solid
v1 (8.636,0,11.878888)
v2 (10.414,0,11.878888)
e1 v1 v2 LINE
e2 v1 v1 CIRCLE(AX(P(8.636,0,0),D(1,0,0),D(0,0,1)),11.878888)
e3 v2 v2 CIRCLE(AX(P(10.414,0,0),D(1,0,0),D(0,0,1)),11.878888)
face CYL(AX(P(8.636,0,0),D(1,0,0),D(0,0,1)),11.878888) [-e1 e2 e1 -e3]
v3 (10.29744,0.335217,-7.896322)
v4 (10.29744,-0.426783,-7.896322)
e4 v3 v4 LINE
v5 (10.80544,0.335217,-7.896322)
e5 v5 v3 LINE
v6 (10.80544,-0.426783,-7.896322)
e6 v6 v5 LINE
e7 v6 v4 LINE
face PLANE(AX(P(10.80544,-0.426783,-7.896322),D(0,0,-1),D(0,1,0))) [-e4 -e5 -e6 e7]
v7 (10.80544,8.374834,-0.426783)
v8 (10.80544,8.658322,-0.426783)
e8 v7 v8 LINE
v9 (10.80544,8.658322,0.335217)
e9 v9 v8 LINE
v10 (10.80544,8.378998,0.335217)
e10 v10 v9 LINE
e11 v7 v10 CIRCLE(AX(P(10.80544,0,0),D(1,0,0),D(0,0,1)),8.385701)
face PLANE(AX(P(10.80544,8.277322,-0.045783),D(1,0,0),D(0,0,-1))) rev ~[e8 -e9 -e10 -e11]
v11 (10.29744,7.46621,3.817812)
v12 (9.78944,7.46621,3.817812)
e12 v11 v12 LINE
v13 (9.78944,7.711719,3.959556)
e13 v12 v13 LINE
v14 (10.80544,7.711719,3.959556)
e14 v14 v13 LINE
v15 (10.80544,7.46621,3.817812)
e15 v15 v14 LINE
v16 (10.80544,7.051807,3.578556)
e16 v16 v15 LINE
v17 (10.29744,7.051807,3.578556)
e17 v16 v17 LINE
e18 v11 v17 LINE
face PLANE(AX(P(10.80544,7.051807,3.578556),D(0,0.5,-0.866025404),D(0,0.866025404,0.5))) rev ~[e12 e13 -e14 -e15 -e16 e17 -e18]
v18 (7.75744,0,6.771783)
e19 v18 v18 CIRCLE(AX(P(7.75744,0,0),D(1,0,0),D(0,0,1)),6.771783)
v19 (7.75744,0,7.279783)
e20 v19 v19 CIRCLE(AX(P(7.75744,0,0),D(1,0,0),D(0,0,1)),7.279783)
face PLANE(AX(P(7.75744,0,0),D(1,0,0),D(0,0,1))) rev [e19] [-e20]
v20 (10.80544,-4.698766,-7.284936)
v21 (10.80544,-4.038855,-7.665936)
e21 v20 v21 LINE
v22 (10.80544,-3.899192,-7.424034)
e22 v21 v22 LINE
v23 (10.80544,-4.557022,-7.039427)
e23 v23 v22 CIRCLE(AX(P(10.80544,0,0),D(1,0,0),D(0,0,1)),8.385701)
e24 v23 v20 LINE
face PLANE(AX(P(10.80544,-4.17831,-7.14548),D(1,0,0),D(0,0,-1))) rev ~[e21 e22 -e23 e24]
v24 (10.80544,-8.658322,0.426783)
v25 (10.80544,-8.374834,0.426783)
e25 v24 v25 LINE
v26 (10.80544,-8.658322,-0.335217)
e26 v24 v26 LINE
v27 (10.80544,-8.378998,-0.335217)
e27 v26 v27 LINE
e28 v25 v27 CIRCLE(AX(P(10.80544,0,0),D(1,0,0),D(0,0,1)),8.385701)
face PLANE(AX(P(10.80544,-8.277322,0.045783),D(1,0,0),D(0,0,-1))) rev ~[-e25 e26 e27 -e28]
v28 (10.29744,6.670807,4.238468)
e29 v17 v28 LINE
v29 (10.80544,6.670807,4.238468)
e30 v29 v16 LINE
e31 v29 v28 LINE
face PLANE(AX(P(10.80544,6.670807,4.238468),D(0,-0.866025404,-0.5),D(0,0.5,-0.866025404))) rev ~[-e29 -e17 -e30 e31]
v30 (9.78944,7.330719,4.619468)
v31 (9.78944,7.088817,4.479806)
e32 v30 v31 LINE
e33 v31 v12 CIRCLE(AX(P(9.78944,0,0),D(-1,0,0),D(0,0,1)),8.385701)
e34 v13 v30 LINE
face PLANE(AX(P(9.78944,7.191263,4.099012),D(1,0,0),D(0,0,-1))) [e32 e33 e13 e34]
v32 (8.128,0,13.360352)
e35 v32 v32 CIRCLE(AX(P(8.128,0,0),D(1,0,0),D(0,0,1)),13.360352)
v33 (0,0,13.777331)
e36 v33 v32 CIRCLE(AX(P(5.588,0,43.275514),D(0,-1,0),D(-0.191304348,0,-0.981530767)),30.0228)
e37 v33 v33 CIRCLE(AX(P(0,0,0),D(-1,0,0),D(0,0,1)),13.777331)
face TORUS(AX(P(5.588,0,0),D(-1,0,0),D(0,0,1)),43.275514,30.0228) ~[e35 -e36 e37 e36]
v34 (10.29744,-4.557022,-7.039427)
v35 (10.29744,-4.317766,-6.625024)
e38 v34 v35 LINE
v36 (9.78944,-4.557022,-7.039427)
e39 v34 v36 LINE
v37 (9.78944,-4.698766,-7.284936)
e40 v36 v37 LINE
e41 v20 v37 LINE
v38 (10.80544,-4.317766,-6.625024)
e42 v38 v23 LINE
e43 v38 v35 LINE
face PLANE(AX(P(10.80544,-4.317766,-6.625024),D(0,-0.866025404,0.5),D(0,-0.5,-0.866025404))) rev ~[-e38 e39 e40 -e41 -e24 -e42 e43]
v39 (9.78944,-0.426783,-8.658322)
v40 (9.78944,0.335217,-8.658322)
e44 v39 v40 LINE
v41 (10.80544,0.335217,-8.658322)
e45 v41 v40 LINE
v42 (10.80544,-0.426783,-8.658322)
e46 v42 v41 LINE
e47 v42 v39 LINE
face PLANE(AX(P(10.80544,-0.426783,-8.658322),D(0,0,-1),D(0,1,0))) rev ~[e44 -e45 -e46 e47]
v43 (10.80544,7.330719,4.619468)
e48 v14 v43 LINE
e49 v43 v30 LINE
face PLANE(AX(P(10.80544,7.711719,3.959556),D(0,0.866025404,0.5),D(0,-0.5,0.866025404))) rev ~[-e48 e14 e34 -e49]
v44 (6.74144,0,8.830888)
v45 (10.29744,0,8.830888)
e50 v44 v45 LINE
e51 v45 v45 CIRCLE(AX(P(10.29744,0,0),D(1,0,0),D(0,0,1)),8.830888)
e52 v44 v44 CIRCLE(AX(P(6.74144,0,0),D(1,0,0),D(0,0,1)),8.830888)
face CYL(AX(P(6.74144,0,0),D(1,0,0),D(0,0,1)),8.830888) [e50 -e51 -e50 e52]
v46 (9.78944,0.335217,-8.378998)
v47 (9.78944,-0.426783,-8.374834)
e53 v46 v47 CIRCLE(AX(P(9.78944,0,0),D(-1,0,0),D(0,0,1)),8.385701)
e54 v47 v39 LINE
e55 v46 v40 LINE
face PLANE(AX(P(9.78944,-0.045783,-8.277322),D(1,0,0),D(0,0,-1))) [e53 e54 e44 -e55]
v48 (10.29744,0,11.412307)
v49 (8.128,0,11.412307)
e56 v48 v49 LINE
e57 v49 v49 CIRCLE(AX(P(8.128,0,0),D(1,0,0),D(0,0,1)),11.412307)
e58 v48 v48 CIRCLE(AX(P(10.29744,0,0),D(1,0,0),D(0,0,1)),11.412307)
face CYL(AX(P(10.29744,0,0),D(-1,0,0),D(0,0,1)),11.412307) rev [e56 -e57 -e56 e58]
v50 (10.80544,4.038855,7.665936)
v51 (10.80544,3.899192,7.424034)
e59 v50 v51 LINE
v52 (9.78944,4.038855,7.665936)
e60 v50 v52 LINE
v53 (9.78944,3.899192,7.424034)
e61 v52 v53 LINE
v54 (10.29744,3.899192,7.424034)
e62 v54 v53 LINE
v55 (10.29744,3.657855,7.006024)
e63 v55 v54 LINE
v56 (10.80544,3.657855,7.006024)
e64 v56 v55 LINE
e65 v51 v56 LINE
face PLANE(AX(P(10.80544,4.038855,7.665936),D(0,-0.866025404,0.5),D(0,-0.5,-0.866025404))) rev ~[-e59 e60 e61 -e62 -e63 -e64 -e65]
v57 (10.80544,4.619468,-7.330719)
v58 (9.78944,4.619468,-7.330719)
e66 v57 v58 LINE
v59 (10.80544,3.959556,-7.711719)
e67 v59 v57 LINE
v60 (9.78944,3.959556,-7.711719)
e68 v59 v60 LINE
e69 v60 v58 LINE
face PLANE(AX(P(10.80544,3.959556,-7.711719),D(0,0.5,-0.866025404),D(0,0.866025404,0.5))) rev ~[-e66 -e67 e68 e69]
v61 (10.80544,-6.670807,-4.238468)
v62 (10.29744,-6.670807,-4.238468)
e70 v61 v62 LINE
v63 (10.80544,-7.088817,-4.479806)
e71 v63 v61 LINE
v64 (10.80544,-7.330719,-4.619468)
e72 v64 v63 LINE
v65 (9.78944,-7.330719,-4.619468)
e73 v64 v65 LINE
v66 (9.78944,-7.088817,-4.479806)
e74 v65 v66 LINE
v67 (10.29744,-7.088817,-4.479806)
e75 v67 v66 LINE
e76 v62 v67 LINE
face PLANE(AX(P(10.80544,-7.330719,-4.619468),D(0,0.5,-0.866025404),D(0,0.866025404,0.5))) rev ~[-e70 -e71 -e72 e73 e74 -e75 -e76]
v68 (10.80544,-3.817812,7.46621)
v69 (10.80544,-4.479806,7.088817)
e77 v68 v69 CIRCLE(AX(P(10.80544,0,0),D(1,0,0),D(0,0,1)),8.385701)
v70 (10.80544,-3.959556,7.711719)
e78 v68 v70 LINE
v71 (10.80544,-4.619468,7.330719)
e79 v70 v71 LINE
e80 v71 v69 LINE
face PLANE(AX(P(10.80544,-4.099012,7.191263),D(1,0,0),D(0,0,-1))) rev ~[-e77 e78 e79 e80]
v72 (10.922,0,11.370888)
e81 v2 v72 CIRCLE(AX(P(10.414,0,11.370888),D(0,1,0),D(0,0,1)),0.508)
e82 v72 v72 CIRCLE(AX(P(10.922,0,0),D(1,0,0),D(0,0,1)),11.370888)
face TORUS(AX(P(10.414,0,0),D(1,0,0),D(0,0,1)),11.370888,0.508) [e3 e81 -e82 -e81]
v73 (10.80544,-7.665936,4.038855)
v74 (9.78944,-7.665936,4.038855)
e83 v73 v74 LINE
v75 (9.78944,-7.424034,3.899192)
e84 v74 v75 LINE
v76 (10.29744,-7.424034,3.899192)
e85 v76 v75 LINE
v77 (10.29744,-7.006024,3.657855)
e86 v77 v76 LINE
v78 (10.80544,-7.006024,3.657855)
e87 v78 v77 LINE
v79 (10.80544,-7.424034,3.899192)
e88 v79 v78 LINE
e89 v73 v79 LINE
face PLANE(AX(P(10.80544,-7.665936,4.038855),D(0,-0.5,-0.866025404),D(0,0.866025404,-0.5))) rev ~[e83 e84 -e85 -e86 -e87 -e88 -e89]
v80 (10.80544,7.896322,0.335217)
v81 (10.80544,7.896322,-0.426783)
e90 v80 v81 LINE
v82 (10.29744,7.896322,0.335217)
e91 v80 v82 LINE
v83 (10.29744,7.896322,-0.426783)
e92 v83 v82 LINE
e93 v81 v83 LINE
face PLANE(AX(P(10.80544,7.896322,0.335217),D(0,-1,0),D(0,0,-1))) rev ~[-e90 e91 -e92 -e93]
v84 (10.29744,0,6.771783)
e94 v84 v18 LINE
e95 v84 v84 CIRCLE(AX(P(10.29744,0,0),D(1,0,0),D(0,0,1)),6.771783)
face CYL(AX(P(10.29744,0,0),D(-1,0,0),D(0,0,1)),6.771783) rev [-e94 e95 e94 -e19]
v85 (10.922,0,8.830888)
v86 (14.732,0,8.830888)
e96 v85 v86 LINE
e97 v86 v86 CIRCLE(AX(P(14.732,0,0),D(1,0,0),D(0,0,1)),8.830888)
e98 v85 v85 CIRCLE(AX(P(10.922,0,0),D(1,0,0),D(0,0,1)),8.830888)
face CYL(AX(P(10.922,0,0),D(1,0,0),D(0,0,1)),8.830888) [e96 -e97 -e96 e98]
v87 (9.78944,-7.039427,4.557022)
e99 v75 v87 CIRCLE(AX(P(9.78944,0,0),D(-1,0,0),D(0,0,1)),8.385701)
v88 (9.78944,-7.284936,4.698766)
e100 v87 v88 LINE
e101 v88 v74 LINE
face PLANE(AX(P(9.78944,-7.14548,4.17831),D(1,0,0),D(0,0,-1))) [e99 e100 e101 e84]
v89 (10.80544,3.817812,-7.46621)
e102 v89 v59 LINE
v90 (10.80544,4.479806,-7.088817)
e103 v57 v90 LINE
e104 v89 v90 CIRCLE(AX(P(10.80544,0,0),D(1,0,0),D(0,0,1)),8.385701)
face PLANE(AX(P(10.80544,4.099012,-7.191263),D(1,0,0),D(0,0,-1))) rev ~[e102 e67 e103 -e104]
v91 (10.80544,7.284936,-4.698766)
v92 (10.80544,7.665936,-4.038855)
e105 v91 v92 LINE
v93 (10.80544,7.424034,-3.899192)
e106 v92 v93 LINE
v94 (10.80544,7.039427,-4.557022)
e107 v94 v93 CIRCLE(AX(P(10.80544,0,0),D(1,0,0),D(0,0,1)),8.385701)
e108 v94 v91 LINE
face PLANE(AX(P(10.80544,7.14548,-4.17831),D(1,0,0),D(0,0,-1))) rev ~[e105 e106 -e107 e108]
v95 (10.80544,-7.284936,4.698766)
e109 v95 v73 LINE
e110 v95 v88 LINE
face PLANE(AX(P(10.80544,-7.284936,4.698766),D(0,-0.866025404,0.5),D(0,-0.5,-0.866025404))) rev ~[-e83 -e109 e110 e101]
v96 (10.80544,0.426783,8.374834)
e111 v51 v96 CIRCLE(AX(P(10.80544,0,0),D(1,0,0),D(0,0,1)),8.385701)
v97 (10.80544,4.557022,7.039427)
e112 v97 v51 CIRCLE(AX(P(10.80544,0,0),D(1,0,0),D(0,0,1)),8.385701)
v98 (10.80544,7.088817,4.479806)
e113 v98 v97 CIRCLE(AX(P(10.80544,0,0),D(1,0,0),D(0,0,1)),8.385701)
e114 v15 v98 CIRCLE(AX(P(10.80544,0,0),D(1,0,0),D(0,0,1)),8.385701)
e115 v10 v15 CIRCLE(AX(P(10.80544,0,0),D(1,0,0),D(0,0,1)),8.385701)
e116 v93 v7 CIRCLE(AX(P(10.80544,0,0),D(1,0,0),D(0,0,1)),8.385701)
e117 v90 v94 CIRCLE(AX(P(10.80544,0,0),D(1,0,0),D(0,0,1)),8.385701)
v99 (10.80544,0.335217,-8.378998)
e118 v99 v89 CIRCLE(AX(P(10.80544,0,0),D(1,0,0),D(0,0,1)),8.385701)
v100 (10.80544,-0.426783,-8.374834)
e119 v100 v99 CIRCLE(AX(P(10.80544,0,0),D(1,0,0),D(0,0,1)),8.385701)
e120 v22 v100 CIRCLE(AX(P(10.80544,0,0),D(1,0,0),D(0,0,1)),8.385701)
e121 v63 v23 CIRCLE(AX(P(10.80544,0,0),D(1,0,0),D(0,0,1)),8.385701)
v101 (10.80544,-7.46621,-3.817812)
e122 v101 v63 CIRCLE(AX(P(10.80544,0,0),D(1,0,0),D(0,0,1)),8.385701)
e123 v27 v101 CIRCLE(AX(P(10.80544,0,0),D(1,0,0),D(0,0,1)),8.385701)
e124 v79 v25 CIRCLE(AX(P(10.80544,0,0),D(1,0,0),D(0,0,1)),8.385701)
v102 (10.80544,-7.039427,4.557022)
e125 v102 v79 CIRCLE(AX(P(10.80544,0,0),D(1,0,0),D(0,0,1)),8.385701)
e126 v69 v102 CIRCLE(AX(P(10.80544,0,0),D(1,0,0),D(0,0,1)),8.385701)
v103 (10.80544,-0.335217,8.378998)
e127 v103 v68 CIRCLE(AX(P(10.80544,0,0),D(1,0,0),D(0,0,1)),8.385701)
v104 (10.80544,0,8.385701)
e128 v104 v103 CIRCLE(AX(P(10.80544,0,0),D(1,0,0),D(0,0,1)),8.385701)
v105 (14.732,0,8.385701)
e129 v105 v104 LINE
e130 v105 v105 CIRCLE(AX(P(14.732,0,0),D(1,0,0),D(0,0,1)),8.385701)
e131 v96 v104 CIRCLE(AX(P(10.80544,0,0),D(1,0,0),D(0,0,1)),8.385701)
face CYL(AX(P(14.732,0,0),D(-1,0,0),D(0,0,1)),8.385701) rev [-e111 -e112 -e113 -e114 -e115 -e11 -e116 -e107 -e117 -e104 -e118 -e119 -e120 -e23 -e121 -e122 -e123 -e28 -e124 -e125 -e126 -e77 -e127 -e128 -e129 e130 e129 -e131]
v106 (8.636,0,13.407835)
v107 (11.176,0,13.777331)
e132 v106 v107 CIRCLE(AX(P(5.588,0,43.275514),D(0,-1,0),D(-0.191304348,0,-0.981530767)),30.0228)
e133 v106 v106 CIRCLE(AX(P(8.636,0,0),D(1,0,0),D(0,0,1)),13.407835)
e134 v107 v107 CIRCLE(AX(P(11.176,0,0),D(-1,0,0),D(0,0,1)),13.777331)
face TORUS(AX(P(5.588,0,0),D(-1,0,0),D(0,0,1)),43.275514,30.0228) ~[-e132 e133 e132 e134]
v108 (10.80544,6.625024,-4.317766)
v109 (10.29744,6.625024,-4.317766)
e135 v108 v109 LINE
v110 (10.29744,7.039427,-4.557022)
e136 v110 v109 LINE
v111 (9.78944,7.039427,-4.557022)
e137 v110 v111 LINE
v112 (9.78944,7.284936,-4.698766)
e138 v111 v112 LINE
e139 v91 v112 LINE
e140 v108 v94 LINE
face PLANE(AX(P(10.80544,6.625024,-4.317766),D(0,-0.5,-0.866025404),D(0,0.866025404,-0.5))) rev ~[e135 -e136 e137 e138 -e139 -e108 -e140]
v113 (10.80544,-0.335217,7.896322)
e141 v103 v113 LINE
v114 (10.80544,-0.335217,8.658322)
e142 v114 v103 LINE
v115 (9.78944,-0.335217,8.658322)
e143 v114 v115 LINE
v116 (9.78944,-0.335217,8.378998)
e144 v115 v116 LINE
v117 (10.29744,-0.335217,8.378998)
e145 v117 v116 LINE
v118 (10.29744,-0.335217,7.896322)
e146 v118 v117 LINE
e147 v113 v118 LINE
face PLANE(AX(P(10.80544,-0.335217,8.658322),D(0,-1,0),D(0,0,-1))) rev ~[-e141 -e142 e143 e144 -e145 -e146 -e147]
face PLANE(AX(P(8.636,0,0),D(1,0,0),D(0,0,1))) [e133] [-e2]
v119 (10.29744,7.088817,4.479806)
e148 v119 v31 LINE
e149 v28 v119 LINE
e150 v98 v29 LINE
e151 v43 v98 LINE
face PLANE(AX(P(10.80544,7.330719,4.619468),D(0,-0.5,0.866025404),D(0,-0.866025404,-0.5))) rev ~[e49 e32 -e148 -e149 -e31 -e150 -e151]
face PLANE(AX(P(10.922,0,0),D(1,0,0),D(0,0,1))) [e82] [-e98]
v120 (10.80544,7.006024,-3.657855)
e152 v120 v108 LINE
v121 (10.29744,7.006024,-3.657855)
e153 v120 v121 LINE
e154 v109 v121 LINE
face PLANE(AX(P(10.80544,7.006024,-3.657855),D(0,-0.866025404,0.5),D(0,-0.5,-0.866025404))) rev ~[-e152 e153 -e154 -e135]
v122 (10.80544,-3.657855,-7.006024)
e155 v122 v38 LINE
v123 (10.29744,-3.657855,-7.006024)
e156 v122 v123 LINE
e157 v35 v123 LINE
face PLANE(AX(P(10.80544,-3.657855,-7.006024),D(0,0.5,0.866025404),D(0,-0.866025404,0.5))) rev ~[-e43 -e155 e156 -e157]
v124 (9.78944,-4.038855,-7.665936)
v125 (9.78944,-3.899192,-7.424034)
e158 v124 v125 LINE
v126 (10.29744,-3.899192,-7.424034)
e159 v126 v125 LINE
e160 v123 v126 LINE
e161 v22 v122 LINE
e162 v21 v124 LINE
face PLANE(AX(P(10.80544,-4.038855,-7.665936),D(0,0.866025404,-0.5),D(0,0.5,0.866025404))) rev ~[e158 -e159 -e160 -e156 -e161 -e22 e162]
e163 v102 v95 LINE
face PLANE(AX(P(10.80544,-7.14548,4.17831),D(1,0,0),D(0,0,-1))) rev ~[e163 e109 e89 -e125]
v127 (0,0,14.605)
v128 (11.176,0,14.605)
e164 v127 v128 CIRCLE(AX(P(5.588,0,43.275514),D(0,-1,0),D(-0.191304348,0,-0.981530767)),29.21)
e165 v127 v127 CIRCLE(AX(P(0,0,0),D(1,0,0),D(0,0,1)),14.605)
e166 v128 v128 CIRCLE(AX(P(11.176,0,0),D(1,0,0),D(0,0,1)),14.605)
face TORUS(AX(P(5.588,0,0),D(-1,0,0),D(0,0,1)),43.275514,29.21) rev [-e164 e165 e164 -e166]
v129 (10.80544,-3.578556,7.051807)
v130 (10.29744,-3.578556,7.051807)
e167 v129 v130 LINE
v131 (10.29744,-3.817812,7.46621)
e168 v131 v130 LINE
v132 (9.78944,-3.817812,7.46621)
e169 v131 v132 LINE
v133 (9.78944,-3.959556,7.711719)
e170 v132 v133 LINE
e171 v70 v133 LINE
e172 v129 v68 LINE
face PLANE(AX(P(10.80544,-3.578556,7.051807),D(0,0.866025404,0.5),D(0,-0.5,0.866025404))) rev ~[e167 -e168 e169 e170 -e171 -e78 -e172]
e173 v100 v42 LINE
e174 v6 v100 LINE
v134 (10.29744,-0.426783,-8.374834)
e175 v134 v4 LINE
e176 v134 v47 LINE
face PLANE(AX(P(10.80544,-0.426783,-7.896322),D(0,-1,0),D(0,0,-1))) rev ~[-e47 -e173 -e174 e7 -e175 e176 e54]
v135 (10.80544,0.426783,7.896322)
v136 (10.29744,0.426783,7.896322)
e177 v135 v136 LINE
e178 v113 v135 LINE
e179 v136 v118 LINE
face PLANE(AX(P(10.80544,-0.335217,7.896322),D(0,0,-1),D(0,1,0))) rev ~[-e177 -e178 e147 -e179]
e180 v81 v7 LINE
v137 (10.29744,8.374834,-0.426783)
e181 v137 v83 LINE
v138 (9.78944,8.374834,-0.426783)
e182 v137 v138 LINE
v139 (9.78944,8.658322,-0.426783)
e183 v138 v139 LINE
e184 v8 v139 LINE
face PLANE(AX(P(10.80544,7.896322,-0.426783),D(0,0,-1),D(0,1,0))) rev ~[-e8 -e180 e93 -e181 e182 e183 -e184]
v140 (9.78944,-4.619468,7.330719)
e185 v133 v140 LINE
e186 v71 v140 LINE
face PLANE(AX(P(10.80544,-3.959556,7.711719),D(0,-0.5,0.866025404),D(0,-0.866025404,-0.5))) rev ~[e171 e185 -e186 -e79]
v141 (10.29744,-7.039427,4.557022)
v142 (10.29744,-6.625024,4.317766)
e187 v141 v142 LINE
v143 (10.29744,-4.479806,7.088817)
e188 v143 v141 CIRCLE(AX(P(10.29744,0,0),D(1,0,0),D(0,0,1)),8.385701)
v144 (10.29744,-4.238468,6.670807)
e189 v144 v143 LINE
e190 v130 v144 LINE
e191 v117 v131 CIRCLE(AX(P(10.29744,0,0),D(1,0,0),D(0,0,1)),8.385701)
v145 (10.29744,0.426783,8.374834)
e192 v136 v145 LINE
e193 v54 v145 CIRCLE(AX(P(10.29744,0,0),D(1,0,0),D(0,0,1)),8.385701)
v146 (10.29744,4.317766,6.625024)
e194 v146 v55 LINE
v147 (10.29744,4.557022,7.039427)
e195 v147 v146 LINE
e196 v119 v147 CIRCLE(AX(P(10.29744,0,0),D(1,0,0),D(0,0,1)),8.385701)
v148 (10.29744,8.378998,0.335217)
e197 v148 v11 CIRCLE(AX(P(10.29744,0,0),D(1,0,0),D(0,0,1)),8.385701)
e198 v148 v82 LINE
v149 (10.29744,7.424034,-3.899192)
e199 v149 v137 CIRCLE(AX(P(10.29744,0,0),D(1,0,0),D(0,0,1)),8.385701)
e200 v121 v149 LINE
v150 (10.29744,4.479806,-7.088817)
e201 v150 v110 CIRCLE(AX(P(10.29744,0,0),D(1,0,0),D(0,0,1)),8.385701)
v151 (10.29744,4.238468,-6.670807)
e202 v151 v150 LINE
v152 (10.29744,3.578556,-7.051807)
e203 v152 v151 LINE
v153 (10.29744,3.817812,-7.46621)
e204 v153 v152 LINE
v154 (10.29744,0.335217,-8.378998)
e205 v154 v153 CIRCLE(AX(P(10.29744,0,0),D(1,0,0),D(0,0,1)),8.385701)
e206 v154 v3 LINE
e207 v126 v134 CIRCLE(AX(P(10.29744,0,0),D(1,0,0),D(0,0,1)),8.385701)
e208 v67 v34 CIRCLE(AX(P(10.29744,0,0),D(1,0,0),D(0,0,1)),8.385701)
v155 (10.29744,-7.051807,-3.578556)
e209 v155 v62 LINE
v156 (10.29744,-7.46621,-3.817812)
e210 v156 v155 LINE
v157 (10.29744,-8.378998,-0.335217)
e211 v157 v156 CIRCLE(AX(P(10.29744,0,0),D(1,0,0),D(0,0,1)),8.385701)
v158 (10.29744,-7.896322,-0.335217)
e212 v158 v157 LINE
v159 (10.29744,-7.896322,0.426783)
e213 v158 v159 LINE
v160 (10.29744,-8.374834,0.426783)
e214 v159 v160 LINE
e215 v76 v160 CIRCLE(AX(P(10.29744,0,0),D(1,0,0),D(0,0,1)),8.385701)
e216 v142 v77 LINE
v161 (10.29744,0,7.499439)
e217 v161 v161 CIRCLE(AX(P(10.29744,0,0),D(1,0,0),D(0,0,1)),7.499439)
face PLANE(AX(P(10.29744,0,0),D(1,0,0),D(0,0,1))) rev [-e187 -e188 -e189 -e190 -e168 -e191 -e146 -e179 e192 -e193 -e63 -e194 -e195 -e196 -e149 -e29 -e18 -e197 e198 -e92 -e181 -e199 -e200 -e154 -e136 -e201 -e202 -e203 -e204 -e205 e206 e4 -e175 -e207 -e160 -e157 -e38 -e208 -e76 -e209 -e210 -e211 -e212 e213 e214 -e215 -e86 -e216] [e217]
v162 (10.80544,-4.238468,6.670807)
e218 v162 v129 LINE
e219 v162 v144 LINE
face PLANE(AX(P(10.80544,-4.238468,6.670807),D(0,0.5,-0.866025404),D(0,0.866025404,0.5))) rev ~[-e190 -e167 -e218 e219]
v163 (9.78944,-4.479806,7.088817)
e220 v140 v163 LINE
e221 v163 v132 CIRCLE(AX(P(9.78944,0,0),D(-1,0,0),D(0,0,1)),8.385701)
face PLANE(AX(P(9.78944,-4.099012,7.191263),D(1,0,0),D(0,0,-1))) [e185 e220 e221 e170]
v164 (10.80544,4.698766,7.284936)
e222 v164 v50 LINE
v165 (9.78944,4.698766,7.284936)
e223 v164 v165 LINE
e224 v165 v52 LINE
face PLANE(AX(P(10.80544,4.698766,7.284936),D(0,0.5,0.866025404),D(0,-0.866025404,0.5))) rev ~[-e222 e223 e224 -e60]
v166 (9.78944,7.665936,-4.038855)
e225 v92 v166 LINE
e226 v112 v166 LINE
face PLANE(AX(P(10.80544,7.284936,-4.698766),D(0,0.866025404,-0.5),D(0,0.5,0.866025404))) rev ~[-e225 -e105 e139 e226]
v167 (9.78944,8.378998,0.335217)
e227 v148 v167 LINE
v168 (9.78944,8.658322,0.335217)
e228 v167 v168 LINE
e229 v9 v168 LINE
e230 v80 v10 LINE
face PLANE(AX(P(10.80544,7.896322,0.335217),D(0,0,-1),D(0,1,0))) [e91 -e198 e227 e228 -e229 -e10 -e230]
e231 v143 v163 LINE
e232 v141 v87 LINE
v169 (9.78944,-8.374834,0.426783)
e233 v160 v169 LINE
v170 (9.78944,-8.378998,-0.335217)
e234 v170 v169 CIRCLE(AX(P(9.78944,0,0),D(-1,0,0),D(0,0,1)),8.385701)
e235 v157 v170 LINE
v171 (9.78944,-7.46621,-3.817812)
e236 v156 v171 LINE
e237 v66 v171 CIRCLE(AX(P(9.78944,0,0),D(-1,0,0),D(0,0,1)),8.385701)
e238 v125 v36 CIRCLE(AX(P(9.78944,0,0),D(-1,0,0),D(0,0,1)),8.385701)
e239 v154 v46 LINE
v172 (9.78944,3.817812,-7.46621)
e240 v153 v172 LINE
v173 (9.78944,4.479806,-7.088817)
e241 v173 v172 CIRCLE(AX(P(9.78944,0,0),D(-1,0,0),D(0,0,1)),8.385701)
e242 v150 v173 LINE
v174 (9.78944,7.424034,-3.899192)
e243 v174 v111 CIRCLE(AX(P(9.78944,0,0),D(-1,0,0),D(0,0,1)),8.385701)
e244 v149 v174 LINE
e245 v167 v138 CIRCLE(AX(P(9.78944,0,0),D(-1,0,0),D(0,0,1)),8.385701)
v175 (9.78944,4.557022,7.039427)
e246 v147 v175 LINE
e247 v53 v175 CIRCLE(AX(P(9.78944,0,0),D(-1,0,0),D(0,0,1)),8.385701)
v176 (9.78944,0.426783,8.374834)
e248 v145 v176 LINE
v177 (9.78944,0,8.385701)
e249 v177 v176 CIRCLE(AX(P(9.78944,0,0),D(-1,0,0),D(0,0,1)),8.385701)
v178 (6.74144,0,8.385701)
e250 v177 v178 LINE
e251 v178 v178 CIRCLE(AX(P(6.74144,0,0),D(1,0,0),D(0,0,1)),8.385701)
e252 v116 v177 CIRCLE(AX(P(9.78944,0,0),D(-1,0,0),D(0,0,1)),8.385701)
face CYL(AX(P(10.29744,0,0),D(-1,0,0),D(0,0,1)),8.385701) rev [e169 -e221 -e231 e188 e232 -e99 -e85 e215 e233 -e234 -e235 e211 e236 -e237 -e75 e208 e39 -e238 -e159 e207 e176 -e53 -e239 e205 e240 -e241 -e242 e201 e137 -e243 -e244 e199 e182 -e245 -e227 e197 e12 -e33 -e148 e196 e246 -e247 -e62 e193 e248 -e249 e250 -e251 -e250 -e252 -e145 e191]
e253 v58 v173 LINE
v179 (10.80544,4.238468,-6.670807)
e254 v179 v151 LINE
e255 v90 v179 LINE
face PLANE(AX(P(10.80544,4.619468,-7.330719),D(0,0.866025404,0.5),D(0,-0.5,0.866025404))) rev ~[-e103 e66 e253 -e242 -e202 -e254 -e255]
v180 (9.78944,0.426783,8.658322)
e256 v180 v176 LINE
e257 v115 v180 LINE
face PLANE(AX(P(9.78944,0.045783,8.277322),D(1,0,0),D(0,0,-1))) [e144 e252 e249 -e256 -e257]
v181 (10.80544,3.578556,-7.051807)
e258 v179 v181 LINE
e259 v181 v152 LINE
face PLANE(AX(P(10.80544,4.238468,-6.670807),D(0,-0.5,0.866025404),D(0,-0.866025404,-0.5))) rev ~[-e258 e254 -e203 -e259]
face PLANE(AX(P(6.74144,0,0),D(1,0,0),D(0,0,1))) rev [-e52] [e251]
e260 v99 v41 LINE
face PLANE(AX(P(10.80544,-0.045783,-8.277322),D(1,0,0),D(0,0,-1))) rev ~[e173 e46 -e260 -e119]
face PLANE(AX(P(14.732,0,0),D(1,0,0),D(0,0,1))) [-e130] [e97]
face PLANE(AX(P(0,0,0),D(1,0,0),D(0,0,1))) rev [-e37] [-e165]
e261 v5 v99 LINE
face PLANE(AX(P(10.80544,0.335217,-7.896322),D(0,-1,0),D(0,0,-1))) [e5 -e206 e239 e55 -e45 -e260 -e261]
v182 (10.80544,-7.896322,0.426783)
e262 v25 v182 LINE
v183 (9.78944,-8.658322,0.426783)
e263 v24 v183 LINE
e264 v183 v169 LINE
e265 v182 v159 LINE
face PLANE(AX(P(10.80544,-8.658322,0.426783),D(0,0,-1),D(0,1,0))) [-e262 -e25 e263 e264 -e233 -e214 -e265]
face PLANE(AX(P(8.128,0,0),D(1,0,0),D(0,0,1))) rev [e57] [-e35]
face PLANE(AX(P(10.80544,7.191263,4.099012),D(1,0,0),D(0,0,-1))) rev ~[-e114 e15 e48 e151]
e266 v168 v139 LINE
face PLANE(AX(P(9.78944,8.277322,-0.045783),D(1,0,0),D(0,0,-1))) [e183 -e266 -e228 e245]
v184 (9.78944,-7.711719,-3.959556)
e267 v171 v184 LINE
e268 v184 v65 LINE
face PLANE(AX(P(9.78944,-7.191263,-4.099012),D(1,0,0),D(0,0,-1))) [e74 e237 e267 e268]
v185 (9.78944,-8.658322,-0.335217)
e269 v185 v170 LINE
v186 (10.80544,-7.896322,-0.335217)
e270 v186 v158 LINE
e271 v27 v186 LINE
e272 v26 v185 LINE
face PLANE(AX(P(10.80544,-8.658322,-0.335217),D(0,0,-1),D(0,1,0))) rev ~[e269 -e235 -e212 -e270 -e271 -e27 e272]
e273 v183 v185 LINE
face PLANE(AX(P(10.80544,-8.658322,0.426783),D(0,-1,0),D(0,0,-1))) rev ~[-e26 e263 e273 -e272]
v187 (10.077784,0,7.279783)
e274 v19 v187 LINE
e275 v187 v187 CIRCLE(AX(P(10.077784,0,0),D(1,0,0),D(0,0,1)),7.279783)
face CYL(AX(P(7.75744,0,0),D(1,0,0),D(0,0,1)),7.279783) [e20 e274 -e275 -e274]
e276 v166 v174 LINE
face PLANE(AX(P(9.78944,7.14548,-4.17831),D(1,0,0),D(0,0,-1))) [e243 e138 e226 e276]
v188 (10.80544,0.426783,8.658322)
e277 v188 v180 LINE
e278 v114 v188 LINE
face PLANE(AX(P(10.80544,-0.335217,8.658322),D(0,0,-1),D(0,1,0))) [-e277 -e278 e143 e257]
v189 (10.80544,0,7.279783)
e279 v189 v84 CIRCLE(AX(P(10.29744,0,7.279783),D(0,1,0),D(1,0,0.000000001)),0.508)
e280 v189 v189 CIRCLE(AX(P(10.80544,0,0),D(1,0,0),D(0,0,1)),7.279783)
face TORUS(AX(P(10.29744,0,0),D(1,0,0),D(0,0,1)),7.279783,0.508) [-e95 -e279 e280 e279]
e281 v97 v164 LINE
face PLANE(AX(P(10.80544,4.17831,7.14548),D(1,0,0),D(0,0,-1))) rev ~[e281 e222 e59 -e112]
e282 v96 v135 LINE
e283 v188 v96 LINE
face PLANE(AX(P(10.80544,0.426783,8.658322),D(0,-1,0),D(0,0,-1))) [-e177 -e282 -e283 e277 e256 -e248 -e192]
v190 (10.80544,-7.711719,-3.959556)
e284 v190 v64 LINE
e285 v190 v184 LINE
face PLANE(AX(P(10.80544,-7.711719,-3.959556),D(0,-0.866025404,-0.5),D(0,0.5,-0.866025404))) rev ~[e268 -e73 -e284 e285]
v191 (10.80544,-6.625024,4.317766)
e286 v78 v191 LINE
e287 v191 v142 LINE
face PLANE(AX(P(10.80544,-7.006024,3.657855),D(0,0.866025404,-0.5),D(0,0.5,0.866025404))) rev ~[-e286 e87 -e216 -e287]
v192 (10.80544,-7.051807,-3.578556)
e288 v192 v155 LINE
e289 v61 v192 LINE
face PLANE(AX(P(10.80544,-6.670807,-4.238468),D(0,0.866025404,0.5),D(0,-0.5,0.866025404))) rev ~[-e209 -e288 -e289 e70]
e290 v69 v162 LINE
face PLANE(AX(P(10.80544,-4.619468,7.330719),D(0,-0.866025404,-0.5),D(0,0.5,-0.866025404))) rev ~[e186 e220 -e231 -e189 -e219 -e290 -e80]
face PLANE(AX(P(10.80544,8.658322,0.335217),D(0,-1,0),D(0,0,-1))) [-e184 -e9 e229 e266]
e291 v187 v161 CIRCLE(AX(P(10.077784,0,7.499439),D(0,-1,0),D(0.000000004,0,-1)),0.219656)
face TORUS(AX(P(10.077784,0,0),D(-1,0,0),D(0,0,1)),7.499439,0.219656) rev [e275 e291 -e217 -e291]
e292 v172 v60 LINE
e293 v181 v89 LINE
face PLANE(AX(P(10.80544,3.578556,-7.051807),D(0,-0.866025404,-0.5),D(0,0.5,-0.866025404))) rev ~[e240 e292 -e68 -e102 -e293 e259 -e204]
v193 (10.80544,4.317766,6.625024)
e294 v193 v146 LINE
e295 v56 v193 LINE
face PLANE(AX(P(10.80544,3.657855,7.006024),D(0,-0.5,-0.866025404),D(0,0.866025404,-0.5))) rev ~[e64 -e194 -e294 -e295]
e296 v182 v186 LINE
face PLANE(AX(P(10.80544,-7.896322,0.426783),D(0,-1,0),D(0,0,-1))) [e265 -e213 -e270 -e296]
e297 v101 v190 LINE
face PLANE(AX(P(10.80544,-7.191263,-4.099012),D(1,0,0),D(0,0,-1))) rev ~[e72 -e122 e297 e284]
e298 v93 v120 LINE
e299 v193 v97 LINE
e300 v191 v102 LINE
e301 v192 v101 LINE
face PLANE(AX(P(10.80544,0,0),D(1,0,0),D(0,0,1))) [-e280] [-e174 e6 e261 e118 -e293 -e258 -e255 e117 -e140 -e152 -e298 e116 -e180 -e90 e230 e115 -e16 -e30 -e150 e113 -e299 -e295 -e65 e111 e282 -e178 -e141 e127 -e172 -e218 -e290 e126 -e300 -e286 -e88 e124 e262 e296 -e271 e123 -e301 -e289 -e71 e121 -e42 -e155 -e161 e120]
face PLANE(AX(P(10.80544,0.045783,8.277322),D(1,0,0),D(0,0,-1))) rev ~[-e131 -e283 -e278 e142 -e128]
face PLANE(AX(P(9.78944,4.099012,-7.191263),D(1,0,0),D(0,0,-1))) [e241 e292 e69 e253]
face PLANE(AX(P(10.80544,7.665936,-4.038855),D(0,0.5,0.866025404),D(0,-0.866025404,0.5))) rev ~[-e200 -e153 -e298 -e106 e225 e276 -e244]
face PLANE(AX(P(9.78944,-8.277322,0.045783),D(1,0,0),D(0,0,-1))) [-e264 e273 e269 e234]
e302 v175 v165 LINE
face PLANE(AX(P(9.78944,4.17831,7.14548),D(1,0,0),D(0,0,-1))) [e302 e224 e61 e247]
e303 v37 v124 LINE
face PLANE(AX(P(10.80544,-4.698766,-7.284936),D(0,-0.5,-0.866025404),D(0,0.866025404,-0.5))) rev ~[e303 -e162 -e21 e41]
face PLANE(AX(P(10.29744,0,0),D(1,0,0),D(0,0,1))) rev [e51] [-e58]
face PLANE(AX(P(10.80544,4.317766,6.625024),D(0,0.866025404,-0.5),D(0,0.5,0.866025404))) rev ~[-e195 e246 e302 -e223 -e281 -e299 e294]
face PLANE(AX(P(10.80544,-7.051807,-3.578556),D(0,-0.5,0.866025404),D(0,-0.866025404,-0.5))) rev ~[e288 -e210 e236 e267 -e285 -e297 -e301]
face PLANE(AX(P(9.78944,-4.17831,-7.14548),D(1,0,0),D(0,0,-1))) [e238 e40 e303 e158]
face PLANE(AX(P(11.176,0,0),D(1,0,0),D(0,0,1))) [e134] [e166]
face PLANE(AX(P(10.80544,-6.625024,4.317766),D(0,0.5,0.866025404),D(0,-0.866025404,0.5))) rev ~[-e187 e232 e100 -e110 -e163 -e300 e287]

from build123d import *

# Parameters (mm, degrees)
SHELL1_T           = -0.8128
FILLET1_R          = 0.508
SKETCH3_W          = 0.762
SKETCH3_H          = 0.762
CUT_EXTRUDE1_DEPTH = 1.016


with BuildPart() as part:
    # Sketch1 → Revolve1 (revolve)
    with BuildSketch(Plane.XY, mode=Mode.PRIVATE) as revolve1_sk:
        with BuildLine():
            Line((0, 0), (0, 14.605))
            ThreePointArc((0, 14.605), (5.588, 14.065513703), (11.176, 14.605))
            Line((11.176, 14.605), (11.176, 0))
            Line((11.176, 0), (0, 0))
        make_face()
    revolve(revolve1_sk.sketch.rotate(Axis((-10.447687892, 0, 0), (1, 0, 0)), 90), axis=Axis((-10.447687892, 0, 0), (1, 0, 0)))

    # Shell1
    shell1_openings = [part.faces().sort_by_distance(p)[0] for p in [
        (0, 0, 0),
        (11.176, 0, 0),
    ]]
    offset(amount=SHELL1_T, openings=shell1_openings, kind=Kind.INTERSECTION)

    # Sketch2 → Revolve2 (revolve)
    with BuildSketch(Plane.XY, mode=Mode.PRIVATE) as revolve2_sk:
        with BuildLine():
            Line((8.636, 13.407835256), (8.636, 11.878888362))
            Line((8.636, 11.878888362), (10.922, 11.878888362))
            Line((10.922, 11.878888362), (10.922, 8.830888362))
            Line((10.922, 8.830888362), (14.732, 8.830888362))
            Line((14.732, 8.830888362), (14.732, 8.38570101))
            Line((14.732, 8.38570101), (10.805439867, 8.38570101))
            Line((10.805439867, 8.38570101), (10.805439867, 7.279783375))
            ThreePointArc((10.805439867, 7.279783375), (10.656650112, 6.92057313), (10.297439867, 6.771783375))
            Line((10.297439867, 6.771783375), (7.757439867, 6.771783375))
            Line((7.757439867, 6.771783375), (7.757439867, 7.279783375))
            Line((7.757439867, 7.279783375), (10.077783765, 7.279783375))
            ThreePointArc((10.077783765, 7.279783375), (10.233104084, 7.344119158), (10.297439867, 7.499439477))
            Line((10.297439867, 7.499439477), (10.297439867, 8.38570101))
            Line((10.297439867, 8.38570101), (6.741439867, 8.38570101))
            Line((6.741439867, 8.38570101), (6.741439867, 8.830888362))
            Line((6.741439867, 8.830888362), (10.297439867, 8.830888362))
            Line((10.297439867, 8.830888362), (10.297439867, 11.412306581))
            Line((10.297439867, 11.412306581), (8.128, 11.412306581))
            Line((8.128, 11.412306581), (8.128, 13.360351664))
            ThreePointArc((8.128, 13.360351664), (8.38210087, 13.383014307), (8.636, 13.407835256))
        make_face()
    revolve(revolve2_sk.sketch.rotate(Axis((-18.402780465, 0, 0), (1, 0, 0)), 90), axis=Axis((-18.402780465, 0, 0), (1, 0, 0)))

    # Fillet1
    fillet1_edges = [part.edges().sort_by_distance(p)[0] for p in [
        (10.922, 0, -11.878888362),
    ]]
    fillet(fillet1_edges, radius=FILLET1_R)

    # Sketch3 → Cut-Extrude1 (cut)
    with BuildSketch(Plane(origin=(10.805439867, 0, 0), x_dir=(0, 0, -1), z_dir=(1, 0, 0))):
        Polygon((4.038854556, 7.665935745), (3.657854556, 7.006024387), (4.317765913, 6.625024387), (4.698765913, 7.284935745), align=None)
        with Locations((0.045782775, 8.277322377)):
            Rectangle(SKETCH3_W, SKETCH3_H)
        Polygon((7.33071852, 4.619467821), (6.670807162, 4.238467821), (7.051807162, 3.578556464), (7.71171852, 3.959556464), align=None)
        with Locations((8.277322377, -0.045782775)):
            Rectangle(SKETCH3_W, SKETCH3_H)
        Polygon((7.665935745, -4.038854556), (7.006024387, -3.657854556), (6.625024387, -4.317765913), (7.284935745, -4.698765913), align=None)
        Polygon((4.619467821, -7.33071852), (4.238467821, -6.670807162), (3.578556464, -7.051807162), (3.959556464, -7.71171852), align=None)
        with Locations((-0.045782775, -8.277322377)):
            Rectangle(SKETCH3_W, SKETCH3_H)
        Polygon((-4.038854556, -7.665935745), (-3.657854556, -7.006024387), (-4.317765913, -6.625024387), (-4.698765913, -7.284935745), align=None)
        Polygon((-7.33071852, -4.619467821), (-6.670807162, -4.238467821), (-7.051807162, -3.578556464), (-7.71171852, -3.959556464), align=None)
        with Locations((-8.277322377, 0.045782775)):
            Rectangle(SKETCH3_W, SKETCH3_H)
        Polygon((-7.665935745, 4.038854556), (-7.006024387, 3.657854556), (-6.625024387, 4.317765913), (-7.284935745, 4.698765913), align=None)
        Polygon((-4.619467821, 7.33071852), (-4.238467821, 6.670807162), (-3.578556464, 7.051807162), (-3.959556464, 7.71171852), align=None)
    extrude(amount=-CUT_EXTRUDE1_DEPTH, mode=Mode.SUBTRACT)


solid = part.part
